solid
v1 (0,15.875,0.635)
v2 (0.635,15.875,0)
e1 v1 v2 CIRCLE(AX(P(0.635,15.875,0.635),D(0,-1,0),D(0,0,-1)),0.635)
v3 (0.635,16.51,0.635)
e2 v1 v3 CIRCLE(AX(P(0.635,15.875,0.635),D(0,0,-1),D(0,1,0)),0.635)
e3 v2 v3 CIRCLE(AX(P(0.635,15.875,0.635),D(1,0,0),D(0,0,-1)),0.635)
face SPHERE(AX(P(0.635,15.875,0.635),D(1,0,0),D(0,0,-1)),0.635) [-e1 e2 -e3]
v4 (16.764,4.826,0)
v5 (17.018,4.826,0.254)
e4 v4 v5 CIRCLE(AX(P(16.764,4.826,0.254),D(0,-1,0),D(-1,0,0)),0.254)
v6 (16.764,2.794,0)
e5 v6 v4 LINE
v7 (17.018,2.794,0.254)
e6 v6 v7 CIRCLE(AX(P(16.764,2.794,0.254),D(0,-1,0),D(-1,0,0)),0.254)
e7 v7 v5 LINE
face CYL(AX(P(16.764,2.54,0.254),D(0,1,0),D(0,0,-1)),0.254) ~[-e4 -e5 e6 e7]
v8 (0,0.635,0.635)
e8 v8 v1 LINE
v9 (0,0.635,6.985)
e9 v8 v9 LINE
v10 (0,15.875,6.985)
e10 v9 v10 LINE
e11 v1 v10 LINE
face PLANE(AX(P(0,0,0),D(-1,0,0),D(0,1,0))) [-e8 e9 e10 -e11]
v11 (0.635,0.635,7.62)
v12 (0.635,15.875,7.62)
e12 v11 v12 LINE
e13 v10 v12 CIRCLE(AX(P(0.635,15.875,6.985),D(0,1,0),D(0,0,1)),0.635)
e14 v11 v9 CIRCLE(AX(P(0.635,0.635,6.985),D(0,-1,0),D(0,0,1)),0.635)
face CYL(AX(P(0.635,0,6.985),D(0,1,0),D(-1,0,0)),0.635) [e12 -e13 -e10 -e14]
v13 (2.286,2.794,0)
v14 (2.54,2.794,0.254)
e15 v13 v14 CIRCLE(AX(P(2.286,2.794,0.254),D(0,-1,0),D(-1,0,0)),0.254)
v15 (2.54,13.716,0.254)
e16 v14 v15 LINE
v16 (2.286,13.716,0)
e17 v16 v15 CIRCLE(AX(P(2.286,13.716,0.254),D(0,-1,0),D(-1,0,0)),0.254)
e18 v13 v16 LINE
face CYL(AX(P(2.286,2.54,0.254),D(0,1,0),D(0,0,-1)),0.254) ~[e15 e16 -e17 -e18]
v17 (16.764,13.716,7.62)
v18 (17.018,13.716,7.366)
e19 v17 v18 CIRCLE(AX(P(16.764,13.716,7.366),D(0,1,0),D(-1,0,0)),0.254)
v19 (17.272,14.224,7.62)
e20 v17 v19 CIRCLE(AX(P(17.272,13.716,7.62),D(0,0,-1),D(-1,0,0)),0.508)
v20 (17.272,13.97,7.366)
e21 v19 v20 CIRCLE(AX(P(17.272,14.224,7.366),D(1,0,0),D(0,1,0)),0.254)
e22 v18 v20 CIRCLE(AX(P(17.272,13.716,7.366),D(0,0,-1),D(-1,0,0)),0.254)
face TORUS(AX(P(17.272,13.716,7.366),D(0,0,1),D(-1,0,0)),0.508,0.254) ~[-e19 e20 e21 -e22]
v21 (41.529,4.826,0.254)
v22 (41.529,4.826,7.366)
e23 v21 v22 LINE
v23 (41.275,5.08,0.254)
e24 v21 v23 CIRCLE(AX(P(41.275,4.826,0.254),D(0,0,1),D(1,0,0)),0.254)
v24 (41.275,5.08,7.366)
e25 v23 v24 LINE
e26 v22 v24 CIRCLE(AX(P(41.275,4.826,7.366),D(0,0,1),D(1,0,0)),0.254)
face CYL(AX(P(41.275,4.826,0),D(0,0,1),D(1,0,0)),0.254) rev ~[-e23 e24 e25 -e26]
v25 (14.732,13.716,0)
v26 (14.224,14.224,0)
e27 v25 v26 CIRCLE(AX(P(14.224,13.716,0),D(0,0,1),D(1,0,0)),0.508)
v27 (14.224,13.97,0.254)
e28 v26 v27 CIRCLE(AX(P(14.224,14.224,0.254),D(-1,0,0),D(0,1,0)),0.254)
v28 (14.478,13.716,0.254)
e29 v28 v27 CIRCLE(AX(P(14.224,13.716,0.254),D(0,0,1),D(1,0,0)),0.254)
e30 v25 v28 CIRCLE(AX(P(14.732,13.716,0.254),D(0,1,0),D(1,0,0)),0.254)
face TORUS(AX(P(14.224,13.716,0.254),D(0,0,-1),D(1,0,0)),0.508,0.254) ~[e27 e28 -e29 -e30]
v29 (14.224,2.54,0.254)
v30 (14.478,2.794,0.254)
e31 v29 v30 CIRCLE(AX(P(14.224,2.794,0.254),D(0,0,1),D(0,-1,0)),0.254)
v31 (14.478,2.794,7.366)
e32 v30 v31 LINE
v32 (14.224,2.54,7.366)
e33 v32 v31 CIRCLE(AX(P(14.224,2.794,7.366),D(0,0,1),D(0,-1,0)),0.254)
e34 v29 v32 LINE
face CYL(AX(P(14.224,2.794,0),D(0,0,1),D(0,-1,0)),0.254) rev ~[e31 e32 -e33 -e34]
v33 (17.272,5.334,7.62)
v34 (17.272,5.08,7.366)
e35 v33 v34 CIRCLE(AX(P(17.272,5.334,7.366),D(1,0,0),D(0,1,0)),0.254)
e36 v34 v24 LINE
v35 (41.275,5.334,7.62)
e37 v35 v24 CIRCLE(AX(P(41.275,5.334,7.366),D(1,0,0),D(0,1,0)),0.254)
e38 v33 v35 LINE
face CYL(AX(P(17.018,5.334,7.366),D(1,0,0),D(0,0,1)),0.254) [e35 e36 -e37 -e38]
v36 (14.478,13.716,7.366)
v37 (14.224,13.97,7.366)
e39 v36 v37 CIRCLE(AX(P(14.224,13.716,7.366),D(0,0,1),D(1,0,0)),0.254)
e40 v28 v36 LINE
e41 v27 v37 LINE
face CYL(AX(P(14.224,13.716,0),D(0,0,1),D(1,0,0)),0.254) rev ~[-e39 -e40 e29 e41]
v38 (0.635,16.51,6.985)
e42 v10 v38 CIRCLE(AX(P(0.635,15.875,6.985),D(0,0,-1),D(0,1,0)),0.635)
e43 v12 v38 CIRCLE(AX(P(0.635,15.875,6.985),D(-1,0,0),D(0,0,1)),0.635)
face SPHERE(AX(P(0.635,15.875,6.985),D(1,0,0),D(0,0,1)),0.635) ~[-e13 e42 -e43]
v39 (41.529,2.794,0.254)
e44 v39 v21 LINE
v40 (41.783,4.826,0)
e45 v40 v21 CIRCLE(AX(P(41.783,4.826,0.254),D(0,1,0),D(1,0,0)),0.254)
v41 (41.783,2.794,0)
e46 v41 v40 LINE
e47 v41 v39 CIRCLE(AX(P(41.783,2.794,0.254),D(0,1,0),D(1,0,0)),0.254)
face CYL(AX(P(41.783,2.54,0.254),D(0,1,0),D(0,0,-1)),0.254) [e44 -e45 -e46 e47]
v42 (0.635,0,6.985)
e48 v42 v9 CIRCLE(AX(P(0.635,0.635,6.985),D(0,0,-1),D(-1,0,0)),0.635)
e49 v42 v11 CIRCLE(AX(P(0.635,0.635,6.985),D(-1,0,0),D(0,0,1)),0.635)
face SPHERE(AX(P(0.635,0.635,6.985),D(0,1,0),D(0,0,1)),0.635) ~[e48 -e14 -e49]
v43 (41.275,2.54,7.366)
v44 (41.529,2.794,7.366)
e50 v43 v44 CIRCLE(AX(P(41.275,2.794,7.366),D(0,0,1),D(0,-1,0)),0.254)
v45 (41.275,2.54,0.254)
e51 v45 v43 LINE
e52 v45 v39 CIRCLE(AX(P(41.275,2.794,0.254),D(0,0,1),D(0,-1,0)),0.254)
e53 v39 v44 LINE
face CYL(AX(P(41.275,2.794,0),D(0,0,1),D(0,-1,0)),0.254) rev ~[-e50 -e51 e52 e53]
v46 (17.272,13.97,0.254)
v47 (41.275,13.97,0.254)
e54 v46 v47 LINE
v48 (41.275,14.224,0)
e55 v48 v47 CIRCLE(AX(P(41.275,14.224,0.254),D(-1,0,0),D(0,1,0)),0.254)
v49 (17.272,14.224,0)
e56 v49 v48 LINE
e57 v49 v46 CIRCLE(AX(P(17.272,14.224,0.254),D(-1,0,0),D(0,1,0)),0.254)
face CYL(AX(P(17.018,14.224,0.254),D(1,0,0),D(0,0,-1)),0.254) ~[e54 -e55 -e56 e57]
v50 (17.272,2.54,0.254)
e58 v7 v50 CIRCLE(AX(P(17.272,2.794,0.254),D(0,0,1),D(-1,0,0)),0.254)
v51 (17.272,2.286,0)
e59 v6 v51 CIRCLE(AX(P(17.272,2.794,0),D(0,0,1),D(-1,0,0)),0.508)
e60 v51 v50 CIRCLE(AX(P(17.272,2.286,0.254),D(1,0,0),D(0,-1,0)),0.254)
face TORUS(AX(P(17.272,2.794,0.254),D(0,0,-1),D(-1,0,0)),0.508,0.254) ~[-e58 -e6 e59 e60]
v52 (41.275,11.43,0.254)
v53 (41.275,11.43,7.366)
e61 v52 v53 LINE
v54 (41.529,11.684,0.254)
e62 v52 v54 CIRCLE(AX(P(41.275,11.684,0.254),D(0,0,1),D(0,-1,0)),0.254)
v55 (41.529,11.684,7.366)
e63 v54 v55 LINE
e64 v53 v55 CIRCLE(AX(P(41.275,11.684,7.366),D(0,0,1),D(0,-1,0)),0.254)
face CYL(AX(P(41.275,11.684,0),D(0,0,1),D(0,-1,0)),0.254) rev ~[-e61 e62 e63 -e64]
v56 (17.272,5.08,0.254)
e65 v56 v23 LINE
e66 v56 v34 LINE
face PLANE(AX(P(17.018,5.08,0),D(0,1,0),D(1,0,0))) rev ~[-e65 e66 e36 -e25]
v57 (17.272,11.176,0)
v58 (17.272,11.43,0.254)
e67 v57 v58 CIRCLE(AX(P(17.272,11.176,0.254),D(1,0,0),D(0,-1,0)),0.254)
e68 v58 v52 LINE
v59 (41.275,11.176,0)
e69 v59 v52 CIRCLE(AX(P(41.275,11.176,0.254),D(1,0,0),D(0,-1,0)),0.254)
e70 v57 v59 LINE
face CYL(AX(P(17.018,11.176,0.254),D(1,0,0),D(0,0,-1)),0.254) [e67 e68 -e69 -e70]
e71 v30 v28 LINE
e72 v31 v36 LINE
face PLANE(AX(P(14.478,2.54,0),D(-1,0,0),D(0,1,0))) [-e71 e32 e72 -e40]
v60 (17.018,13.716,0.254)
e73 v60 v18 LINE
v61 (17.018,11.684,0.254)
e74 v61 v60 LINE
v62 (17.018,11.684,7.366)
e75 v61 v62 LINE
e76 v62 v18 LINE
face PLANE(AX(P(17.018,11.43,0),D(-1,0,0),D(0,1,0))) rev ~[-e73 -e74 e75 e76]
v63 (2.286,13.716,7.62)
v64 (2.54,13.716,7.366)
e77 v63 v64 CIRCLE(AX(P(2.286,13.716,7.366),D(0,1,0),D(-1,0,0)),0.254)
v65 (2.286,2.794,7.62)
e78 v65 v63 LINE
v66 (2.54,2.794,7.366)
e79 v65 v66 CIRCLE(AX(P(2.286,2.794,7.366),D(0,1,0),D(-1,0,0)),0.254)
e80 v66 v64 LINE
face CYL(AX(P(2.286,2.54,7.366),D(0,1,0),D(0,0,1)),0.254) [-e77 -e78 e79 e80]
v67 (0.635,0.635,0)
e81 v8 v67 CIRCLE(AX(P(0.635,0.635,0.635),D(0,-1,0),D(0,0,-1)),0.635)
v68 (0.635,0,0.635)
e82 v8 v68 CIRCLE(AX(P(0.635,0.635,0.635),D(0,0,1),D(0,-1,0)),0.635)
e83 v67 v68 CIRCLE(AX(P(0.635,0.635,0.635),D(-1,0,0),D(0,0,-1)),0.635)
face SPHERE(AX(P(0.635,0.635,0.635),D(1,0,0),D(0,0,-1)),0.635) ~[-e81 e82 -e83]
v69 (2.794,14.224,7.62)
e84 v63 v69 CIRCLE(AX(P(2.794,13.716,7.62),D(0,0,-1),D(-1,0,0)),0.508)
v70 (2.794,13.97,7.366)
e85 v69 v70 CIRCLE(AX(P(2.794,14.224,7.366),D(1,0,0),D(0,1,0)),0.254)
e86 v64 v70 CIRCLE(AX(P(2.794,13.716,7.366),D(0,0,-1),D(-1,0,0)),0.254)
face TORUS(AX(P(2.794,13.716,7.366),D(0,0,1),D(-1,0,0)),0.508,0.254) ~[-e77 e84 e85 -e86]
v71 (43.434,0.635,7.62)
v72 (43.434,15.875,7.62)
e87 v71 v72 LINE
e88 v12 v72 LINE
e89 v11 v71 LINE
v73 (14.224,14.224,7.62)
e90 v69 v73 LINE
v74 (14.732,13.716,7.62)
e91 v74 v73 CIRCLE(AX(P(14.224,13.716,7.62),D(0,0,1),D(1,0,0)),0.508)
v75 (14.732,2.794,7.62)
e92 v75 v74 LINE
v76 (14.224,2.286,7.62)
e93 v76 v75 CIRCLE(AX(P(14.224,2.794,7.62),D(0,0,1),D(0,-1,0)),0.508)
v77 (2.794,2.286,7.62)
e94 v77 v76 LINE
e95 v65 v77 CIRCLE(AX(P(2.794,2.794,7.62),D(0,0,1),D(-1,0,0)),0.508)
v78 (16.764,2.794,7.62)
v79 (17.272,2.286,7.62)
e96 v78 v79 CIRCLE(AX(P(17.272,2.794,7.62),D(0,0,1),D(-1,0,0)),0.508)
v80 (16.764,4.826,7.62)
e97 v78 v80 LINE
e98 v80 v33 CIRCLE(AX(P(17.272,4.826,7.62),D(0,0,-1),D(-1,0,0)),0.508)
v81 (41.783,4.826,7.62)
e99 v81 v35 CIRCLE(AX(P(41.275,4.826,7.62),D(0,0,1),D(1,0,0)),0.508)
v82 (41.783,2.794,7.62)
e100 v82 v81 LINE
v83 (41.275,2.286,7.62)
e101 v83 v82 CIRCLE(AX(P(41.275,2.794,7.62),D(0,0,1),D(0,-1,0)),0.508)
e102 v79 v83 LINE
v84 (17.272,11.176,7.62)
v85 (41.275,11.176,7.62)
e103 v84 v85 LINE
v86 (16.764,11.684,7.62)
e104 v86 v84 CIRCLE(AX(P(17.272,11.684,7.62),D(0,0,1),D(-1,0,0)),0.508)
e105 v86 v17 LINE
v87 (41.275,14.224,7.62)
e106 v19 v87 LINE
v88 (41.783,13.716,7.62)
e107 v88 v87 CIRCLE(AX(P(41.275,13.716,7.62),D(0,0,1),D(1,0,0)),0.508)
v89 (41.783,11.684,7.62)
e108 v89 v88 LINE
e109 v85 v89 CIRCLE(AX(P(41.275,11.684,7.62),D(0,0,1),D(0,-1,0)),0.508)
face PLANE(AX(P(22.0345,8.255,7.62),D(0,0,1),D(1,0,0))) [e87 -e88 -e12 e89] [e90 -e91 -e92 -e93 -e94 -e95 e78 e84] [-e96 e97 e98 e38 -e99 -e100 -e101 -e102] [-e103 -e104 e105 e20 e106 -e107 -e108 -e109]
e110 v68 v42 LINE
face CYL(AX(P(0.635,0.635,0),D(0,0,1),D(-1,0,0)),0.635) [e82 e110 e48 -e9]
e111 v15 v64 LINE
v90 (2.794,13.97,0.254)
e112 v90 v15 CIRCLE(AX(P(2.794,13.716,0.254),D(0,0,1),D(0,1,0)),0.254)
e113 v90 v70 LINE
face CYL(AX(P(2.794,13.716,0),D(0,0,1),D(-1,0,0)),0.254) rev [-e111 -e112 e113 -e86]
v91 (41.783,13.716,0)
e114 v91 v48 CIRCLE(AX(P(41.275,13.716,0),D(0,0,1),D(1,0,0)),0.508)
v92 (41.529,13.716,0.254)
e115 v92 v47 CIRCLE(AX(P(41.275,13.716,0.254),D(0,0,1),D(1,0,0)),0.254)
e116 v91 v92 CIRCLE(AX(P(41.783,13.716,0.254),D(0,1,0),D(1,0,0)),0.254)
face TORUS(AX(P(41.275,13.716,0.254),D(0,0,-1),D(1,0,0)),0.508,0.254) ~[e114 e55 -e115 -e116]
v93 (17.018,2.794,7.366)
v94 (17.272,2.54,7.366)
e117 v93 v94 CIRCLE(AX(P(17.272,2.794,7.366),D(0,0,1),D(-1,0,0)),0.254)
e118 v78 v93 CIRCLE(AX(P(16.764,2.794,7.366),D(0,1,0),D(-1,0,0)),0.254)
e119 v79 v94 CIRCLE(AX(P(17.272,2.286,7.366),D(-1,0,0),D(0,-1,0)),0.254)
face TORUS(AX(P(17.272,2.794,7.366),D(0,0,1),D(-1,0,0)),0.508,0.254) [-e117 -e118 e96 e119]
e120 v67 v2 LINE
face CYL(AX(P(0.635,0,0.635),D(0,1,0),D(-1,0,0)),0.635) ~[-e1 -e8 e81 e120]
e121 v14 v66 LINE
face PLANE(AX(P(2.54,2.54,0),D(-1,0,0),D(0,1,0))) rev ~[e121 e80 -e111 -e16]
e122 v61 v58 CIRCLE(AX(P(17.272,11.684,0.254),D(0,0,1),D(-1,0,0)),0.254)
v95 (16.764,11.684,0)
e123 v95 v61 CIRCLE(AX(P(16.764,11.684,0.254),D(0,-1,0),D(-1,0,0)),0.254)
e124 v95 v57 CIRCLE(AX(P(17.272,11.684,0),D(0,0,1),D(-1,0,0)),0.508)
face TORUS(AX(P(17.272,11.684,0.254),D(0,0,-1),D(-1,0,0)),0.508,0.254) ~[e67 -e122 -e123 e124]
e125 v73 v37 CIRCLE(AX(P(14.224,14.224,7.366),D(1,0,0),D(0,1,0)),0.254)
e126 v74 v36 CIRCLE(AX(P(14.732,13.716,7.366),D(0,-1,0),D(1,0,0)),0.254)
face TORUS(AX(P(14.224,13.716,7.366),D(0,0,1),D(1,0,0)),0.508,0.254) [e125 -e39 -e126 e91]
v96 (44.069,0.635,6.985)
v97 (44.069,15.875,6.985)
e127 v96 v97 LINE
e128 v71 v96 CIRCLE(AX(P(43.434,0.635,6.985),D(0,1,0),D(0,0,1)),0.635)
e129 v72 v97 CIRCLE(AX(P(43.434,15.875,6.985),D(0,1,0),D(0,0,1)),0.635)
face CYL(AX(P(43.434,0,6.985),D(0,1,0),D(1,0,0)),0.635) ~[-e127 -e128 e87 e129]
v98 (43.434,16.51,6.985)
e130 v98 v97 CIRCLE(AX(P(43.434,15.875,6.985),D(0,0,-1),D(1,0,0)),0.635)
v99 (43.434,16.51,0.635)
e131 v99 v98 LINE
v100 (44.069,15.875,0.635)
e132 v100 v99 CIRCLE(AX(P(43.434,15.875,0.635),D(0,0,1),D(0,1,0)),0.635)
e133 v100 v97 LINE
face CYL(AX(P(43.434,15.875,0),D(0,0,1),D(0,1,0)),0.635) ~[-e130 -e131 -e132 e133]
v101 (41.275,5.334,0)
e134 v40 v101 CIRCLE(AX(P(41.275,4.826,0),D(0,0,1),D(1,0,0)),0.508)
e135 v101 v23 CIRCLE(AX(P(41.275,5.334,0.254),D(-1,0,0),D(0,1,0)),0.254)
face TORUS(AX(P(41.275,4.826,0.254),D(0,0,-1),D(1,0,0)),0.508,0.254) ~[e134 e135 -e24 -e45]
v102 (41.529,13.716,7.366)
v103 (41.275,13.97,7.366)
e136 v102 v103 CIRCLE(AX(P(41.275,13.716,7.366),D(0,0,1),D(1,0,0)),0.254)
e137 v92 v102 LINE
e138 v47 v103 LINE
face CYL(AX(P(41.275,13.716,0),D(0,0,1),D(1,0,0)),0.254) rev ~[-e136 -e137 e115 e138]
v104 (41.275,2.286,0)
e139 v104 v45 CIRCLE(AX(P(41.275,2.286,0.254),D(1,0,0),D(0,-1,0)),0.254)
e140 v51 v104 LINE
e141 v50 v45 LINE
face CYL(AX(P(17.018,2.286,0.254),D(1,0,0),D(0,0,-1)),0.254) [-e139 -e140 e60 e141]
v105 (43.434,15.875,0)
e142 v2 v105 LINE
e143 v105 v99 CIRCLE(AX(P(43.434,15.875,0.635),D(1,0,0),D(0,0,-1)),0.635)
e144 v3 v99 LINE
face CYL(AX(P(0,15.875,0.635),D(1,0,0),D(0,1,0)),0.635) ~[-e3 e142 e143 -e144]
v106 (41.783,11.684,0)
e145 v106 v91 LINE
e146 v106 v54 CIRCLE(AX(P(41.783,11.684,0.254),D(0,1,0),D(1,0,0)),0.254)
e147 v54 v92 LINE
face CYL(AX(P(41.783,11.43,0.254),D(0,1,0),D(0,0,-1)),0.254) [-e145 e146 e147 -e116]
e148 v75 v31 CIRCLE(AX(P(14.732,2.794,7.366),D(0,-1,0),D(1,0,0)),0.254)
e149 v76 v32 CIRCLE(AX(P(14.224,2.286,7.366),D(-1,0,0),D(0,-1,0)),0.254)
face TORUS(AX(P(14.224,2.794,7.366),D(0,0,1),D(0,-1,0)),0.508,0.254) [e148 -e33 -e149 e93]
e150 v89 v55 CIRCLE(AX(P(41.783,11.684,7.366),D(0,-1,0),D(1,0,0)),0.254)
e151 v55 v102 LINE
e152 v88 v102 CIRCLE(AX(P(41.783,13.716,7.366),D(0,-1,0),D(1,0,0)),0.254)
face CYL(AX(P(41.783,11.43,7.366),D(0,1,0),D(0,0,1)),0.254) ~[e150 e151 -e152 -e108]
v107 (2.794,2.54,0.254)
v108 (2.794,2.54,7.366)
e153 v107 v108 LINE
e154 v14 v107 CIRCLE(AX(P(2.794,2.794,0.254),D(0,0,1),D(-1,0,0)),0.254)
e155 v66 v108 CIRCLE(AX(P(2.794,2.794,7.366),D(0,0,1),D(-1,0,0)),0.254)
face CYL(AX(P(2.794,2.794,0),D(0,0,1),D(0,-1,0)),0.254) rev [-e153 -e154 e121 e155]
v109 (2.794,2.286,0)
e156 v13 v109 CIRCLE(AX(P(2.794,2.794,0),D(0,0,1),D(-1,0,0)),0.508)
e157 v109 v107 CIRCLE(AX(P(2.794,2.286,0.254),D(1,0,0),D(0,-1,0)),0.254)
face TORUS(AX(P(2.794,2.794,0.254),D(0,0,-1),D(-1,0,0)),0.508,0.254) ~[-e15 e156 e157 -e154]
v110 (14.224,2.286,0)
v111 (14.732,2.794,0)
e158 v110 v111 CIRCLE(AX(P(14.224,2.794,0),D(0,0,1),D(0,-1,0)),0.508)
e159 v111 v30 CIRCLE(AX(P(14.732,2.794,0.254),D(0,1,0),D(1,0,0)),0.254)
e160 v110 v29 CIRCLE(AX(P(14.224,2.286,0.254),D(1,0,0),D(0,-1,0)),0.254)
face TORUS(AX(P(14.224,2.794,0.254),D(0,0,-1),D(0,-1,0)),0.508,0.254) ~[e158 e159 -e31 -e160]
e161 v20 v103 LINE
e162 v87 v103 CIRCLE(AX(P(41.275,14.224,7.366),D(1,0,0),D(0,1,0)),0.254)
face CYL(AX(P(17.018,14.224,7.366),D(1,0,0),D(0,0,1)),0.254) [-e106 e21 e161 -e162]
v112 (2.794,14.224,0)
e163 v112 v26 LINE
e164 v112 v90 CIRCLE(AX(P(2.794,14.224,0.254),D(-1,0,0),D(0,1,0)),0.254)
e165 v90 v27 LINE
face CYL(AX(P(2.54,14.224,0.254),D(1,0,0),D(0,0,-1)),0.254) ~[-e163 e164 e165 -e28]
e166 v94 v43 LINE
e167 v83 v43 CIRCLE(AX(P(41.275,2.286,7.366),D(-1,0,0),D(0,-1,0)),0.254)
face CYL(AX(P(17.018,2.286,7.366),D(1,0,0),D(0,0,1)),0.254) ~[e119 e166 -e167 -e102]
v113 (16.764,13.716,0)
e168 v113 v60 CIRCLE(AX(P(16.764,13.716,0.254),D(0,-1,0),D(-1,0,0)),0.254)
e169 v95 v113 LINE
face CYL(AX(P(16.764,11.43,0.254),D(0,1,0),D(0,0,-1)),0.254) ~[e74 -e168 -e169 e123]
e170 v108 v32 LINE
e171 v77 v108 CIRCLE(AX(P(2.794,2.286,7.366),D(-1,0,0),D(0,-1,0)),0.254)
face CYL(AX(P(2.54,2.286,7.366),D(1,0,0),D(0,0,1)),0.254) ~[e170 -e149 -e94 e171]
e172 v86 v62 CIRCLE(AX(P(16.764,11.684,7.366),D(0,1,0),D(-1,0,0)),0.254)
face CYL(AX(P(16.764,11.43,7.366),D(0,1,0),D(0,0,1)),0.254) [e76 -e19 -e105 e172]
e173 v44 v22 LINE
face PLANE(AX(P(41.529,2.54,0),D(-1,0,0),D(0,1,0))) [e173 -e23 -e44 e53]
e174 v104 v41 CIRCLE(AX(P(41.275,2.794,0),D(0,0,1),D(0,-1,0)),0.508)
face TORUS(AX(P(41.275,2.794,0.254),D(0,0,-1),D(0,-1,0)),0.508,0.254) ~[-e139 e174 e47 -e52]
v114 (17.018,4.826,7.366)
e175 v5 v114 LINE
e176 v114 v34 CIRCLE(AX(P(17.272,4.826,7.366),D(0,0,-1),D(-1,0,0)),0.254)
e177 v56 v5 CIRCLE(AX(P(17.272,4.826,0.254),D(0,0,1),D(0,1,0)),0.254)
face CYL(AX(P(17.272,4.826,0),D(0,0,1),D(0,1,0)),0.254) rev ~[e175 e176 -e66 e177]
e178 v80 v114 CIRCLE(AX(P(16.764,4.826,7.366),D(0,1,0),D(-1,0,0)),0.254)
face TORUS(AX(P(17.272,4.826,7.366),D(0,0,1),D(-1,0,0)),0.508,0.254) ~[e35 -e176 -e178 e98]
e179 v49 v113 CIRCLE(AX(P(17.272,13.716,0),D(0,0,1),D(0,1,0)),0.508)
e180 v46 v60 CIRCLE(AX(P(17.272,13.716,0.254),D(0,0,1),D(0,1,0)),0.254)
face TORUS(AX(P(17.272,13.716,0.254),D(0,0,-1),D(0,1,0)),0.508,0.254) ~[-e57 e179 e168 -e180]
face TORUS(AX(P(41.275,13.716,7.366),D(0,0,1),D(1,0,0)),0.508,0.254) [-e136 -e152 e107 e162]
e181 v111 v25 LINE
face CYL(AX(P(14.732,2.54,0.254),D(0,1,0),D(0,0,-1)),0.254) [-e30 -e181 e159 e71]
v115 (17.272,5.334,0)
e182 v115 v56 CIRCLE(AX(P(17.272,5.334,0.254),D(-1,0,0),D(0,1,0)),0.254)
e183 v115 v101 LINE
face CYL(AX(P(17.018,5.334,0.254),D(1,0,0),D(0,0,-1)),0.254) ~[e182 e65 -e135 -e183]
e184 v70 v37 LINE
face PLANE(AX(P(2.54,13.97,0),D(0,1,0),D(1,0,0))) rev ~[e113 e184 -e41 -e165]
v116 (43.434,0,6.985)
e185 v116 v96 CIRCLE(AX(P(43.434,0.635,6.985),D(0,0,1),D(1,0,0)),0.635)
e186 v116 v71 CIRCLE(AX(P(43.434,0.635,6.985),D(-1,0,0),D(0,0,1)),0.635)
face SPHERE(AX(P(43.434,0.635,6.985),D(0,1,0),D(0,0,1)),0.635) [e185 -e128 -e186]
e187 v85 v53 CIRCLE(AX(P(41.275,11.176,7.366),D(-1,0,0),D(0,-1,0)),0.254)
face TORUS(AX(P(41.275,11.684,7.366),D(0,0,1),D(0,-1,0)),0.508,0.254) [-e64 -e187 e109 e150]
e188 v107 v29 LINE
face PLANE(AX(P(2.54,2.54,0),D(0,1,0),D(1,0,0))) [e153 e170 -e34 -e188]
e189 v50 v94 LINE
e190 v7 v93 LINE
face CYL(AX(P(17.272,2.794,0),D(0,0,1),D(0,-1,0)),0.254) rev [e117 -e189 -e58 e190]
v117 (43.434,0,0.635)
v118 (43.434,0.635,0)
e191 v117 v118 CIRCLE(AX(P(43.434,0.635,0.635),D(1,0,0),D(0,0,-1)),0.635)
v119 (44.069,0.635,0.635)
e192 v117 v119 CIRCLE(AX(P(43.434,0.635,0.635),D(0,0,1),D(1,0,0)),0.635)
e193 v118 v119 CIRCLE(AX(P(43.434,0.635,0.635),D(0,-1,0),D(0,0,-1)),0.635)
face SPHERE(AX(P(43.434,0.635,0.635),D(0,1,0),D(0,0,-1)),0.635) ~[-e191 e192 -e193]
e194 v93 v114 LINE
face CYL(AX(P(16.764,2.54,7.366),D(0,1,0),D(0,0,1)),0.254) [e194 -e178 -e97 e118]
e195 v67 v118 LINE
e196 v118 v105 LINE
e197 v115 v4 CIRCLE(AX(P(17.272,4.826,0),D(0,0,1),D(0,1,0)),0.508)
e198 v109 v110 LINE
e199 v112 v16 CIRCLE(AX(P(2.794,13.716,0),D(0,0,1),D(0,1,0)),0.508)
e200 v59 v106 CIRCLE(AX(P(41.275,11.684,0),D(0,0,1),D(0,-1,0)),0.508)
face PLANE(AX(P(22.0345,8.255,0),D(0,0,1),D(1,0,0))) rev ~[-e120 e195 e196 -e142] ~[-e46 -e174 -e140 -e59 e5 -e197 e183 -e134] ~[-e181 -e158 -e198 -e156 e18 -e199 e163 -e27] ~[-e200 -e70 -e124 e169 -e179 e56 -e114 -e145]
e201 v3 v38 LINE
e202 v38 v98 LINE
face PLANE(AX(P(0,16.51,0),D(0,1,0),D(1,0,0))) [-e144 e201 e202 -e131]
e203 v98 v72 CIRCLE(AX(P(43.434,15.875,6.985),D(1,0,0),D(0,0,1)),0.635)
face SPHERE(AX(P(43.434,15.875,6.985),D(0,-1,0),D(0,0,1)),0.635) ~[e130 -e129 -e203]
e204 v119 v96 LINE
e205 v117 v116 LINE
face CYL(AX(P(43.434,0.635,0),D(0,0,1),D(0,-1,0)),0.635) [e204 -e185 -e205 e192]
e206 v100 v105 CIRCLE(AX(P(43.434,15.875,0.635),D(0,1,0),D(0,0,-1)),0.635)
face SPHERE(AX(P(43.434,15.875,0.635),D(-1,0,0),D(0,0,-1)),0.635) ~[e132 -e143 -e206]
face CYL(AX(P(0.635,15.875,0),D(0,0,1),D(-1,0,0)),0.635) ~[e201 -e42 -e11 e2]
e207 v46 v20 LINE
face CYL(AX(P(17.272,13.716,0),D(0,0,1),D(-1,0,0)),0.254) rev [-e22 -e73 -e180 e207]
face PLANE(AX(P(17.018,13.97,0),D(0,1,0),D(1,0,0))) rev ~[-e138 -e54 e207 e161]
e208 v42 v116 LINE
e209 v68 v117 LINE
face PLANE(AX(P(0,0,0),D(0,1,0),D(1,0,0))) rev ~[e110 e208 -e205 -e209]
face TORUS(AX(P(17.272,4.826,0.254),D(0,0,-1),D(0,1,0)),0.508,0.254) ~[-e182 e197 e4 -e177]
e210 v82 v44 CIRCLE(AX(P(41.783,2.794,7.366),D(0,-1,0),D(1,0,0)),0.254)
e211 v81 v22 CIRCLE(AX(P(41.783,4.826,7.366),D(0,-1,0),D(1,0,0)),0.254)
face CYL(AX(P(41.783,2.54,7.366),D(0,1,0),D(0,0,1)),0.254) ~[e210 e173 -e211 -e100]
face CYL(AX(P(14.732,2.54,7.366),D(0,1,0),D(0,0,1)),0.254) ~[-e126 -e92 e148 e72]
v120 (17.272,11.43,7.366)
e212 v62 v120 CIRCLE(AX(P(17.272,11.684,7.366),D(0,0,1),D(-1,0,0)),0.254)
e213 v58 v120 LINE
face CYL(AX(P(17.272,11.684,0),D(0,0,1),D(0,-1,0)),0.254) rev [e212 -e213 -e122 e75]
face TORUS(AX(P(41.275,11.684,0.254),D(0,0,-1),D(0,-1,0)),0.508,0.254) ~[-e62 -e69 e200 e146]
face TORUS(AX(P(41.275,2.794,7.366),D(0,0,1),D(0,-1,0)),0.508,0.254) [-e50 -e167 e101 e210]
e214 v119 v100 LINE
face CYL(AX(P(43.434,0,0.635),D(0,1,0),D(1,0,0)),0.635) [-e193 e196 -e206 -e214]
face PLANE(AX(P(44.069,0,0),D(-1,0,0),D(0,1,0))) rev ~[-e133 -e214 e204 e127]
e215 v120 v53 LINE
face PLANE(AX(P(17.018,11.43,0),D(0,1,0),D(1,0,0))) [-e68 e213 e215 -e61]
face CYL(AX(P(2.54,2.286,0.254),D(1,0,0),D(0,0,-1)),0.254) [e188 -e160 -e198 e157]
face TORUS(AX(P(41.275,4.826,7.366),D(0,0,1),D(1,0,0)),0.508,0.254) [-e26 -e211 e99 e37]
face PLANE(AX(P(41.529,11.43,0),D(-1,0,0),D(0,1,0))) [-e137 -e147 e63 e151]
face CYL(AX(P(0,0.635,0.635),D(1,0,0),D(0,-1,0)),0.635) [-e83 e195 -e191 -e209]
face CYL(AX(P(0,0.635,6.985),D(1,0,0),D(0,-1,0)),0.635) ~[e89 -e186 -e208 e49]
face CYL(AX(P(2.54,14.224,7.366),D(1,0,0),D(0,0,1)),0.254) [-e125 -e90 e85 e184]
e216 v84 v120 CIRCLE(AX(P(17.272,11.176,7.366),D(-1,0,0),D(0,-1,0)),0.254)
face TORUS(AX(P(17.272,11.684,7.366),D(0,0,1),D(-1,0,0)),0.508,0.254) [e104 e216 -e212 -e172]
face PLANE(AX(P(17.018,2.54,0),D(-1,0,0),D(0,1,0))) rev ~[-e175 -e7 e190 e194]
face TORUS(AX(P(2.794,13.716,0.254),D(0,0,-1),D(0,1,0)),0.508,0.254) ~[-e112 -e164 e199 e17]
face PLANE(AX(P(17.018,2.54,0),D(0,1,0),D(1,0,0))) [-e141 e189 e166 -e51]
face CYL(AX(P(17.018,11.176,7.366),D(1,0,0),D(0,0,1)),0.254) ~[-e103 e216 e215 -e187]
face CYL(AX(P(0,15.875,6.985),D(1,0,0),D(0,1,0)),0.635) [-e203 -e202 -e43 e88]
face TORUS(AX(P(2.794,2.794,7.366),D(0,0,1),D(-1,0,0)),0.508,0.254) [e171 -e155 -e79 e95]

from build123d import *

# Parameters (mm, degrees)
SKETCH1_W           = 44.069
SKETCH1_H           = 16.51
SKETCH1_W_2         = 24.511
SKETCH1_H_2         = 2.54
SKETCH1_W_3         = 11.938
SKETCH1_H_3         = 11.43
BOSS_EXTRUDE1_DEPTH = 7.62
FILLET1_R           = 0.635
FILLET2_R           = 0.254


with BuildPart() as part:
    # Sketch1 → Boss-Extrude1 (new body)
    with BuildSketch(Plane.XY):
        with Locations((22.0345, 8.255)):
            Rectangle(SKETCH1_W, SKETCH1_H)
        with Locations((29.2735, 12.7)):
            Rectangle(SKETCH1_W_2, SKETCH1_H_2, mode=Mode.SUBTRACT)
        with Locations((8.509, 8.255)):
            Rectangle(SKETCH1_W_3, SKETCH1_H_3, mode=Mode.SUBTRACT)
        with Locations((29.2735, 3.81)):
            Rectangle(SKETCH1_W_2, SKETCH1_H_2, mode=Mode.SUBTRACT)
    extrude(amount=BOSS_EXTRUDE1_DEPTH)

    # Fillet1
    fillet1_edges = [part.edges().sort_by_distance(p)[0] for p in [
        (44.069, 8.255, 7.62),
        (22.0345, 16.51, 7.62),
        (0, 8.255, 7.62),
        (22.0345, 16.51, 0),
        (44.069, 8.255, 0),
        (22.0345, 0, 0),
        (0, 8.255, 0),
        (22.0345, 0, 7.62),
        (0, 16.51, 3.81),
        (44.069, 16.51, 3.81),
        (44.069, 0, 3.81),
        (0, 0, 3.81),
    ]]
    fillet(fillet1_edges, radius=FILLET1_R)

    # Fillet2
    fillet2_edges = [part.edges().sort_by_distance(p)[0] for p in [
        (2.54, 8.255, 0),
        (2.54, 13.97, 3.81),
        (8.509, 2.54, 0),
        (2.54, 2.54, 3.81),
        (14.478, 8.255, 0),
        (14.478, 2.54, 3.81),
        (8.509, 13.97, 0),
        (14.478, 13.97, 3.81),
        (2.54, 8.255, 7.62),
        (8.509, 2.54, 7.62),
        (14.478, 8.255, 7.62),
        (8.509, 13.97, 7.62),
        (17.018, 3.81, 0),
        (17.018, 5.08, 3.81),
        (29.2735, 2.54, 0),
        (17.018, 2.54, 3.81),
        (41.529, 3.81, 0),
        (41.529, 2.54, 3.81),
        (29.2735, 5.08, 0),
        (41.529, 5.08, 3.81),
        (17.018, 3.81, 7.62),
        (29.2735, 2.54, 7.62),
        (41.529, 3.81, 7.62),
        (29.2735, 5.08, 7.62),
        (17.018, 12.7, 0),
        (17.018, 13.97, 3.81),
        (29.2735, 11.43, 0),
        (17.018, 11.43, 3.81),
        (41.529, 12.7, 0),
        (41.529, 11.43, 3.81),
        (29.2735, 13.97, 0),
        (41.529, 13.97, 3.81),
        (17.018, 12.7, 7.62),
        (29.2735, 11.43, 7.62),
        (41.529, 12.7, 7.62),
        (29.2735, 13.97, 7.62),
    ]]
    fillet(fillet2_edges, radius=FILLET2_R)


solid = part.part
